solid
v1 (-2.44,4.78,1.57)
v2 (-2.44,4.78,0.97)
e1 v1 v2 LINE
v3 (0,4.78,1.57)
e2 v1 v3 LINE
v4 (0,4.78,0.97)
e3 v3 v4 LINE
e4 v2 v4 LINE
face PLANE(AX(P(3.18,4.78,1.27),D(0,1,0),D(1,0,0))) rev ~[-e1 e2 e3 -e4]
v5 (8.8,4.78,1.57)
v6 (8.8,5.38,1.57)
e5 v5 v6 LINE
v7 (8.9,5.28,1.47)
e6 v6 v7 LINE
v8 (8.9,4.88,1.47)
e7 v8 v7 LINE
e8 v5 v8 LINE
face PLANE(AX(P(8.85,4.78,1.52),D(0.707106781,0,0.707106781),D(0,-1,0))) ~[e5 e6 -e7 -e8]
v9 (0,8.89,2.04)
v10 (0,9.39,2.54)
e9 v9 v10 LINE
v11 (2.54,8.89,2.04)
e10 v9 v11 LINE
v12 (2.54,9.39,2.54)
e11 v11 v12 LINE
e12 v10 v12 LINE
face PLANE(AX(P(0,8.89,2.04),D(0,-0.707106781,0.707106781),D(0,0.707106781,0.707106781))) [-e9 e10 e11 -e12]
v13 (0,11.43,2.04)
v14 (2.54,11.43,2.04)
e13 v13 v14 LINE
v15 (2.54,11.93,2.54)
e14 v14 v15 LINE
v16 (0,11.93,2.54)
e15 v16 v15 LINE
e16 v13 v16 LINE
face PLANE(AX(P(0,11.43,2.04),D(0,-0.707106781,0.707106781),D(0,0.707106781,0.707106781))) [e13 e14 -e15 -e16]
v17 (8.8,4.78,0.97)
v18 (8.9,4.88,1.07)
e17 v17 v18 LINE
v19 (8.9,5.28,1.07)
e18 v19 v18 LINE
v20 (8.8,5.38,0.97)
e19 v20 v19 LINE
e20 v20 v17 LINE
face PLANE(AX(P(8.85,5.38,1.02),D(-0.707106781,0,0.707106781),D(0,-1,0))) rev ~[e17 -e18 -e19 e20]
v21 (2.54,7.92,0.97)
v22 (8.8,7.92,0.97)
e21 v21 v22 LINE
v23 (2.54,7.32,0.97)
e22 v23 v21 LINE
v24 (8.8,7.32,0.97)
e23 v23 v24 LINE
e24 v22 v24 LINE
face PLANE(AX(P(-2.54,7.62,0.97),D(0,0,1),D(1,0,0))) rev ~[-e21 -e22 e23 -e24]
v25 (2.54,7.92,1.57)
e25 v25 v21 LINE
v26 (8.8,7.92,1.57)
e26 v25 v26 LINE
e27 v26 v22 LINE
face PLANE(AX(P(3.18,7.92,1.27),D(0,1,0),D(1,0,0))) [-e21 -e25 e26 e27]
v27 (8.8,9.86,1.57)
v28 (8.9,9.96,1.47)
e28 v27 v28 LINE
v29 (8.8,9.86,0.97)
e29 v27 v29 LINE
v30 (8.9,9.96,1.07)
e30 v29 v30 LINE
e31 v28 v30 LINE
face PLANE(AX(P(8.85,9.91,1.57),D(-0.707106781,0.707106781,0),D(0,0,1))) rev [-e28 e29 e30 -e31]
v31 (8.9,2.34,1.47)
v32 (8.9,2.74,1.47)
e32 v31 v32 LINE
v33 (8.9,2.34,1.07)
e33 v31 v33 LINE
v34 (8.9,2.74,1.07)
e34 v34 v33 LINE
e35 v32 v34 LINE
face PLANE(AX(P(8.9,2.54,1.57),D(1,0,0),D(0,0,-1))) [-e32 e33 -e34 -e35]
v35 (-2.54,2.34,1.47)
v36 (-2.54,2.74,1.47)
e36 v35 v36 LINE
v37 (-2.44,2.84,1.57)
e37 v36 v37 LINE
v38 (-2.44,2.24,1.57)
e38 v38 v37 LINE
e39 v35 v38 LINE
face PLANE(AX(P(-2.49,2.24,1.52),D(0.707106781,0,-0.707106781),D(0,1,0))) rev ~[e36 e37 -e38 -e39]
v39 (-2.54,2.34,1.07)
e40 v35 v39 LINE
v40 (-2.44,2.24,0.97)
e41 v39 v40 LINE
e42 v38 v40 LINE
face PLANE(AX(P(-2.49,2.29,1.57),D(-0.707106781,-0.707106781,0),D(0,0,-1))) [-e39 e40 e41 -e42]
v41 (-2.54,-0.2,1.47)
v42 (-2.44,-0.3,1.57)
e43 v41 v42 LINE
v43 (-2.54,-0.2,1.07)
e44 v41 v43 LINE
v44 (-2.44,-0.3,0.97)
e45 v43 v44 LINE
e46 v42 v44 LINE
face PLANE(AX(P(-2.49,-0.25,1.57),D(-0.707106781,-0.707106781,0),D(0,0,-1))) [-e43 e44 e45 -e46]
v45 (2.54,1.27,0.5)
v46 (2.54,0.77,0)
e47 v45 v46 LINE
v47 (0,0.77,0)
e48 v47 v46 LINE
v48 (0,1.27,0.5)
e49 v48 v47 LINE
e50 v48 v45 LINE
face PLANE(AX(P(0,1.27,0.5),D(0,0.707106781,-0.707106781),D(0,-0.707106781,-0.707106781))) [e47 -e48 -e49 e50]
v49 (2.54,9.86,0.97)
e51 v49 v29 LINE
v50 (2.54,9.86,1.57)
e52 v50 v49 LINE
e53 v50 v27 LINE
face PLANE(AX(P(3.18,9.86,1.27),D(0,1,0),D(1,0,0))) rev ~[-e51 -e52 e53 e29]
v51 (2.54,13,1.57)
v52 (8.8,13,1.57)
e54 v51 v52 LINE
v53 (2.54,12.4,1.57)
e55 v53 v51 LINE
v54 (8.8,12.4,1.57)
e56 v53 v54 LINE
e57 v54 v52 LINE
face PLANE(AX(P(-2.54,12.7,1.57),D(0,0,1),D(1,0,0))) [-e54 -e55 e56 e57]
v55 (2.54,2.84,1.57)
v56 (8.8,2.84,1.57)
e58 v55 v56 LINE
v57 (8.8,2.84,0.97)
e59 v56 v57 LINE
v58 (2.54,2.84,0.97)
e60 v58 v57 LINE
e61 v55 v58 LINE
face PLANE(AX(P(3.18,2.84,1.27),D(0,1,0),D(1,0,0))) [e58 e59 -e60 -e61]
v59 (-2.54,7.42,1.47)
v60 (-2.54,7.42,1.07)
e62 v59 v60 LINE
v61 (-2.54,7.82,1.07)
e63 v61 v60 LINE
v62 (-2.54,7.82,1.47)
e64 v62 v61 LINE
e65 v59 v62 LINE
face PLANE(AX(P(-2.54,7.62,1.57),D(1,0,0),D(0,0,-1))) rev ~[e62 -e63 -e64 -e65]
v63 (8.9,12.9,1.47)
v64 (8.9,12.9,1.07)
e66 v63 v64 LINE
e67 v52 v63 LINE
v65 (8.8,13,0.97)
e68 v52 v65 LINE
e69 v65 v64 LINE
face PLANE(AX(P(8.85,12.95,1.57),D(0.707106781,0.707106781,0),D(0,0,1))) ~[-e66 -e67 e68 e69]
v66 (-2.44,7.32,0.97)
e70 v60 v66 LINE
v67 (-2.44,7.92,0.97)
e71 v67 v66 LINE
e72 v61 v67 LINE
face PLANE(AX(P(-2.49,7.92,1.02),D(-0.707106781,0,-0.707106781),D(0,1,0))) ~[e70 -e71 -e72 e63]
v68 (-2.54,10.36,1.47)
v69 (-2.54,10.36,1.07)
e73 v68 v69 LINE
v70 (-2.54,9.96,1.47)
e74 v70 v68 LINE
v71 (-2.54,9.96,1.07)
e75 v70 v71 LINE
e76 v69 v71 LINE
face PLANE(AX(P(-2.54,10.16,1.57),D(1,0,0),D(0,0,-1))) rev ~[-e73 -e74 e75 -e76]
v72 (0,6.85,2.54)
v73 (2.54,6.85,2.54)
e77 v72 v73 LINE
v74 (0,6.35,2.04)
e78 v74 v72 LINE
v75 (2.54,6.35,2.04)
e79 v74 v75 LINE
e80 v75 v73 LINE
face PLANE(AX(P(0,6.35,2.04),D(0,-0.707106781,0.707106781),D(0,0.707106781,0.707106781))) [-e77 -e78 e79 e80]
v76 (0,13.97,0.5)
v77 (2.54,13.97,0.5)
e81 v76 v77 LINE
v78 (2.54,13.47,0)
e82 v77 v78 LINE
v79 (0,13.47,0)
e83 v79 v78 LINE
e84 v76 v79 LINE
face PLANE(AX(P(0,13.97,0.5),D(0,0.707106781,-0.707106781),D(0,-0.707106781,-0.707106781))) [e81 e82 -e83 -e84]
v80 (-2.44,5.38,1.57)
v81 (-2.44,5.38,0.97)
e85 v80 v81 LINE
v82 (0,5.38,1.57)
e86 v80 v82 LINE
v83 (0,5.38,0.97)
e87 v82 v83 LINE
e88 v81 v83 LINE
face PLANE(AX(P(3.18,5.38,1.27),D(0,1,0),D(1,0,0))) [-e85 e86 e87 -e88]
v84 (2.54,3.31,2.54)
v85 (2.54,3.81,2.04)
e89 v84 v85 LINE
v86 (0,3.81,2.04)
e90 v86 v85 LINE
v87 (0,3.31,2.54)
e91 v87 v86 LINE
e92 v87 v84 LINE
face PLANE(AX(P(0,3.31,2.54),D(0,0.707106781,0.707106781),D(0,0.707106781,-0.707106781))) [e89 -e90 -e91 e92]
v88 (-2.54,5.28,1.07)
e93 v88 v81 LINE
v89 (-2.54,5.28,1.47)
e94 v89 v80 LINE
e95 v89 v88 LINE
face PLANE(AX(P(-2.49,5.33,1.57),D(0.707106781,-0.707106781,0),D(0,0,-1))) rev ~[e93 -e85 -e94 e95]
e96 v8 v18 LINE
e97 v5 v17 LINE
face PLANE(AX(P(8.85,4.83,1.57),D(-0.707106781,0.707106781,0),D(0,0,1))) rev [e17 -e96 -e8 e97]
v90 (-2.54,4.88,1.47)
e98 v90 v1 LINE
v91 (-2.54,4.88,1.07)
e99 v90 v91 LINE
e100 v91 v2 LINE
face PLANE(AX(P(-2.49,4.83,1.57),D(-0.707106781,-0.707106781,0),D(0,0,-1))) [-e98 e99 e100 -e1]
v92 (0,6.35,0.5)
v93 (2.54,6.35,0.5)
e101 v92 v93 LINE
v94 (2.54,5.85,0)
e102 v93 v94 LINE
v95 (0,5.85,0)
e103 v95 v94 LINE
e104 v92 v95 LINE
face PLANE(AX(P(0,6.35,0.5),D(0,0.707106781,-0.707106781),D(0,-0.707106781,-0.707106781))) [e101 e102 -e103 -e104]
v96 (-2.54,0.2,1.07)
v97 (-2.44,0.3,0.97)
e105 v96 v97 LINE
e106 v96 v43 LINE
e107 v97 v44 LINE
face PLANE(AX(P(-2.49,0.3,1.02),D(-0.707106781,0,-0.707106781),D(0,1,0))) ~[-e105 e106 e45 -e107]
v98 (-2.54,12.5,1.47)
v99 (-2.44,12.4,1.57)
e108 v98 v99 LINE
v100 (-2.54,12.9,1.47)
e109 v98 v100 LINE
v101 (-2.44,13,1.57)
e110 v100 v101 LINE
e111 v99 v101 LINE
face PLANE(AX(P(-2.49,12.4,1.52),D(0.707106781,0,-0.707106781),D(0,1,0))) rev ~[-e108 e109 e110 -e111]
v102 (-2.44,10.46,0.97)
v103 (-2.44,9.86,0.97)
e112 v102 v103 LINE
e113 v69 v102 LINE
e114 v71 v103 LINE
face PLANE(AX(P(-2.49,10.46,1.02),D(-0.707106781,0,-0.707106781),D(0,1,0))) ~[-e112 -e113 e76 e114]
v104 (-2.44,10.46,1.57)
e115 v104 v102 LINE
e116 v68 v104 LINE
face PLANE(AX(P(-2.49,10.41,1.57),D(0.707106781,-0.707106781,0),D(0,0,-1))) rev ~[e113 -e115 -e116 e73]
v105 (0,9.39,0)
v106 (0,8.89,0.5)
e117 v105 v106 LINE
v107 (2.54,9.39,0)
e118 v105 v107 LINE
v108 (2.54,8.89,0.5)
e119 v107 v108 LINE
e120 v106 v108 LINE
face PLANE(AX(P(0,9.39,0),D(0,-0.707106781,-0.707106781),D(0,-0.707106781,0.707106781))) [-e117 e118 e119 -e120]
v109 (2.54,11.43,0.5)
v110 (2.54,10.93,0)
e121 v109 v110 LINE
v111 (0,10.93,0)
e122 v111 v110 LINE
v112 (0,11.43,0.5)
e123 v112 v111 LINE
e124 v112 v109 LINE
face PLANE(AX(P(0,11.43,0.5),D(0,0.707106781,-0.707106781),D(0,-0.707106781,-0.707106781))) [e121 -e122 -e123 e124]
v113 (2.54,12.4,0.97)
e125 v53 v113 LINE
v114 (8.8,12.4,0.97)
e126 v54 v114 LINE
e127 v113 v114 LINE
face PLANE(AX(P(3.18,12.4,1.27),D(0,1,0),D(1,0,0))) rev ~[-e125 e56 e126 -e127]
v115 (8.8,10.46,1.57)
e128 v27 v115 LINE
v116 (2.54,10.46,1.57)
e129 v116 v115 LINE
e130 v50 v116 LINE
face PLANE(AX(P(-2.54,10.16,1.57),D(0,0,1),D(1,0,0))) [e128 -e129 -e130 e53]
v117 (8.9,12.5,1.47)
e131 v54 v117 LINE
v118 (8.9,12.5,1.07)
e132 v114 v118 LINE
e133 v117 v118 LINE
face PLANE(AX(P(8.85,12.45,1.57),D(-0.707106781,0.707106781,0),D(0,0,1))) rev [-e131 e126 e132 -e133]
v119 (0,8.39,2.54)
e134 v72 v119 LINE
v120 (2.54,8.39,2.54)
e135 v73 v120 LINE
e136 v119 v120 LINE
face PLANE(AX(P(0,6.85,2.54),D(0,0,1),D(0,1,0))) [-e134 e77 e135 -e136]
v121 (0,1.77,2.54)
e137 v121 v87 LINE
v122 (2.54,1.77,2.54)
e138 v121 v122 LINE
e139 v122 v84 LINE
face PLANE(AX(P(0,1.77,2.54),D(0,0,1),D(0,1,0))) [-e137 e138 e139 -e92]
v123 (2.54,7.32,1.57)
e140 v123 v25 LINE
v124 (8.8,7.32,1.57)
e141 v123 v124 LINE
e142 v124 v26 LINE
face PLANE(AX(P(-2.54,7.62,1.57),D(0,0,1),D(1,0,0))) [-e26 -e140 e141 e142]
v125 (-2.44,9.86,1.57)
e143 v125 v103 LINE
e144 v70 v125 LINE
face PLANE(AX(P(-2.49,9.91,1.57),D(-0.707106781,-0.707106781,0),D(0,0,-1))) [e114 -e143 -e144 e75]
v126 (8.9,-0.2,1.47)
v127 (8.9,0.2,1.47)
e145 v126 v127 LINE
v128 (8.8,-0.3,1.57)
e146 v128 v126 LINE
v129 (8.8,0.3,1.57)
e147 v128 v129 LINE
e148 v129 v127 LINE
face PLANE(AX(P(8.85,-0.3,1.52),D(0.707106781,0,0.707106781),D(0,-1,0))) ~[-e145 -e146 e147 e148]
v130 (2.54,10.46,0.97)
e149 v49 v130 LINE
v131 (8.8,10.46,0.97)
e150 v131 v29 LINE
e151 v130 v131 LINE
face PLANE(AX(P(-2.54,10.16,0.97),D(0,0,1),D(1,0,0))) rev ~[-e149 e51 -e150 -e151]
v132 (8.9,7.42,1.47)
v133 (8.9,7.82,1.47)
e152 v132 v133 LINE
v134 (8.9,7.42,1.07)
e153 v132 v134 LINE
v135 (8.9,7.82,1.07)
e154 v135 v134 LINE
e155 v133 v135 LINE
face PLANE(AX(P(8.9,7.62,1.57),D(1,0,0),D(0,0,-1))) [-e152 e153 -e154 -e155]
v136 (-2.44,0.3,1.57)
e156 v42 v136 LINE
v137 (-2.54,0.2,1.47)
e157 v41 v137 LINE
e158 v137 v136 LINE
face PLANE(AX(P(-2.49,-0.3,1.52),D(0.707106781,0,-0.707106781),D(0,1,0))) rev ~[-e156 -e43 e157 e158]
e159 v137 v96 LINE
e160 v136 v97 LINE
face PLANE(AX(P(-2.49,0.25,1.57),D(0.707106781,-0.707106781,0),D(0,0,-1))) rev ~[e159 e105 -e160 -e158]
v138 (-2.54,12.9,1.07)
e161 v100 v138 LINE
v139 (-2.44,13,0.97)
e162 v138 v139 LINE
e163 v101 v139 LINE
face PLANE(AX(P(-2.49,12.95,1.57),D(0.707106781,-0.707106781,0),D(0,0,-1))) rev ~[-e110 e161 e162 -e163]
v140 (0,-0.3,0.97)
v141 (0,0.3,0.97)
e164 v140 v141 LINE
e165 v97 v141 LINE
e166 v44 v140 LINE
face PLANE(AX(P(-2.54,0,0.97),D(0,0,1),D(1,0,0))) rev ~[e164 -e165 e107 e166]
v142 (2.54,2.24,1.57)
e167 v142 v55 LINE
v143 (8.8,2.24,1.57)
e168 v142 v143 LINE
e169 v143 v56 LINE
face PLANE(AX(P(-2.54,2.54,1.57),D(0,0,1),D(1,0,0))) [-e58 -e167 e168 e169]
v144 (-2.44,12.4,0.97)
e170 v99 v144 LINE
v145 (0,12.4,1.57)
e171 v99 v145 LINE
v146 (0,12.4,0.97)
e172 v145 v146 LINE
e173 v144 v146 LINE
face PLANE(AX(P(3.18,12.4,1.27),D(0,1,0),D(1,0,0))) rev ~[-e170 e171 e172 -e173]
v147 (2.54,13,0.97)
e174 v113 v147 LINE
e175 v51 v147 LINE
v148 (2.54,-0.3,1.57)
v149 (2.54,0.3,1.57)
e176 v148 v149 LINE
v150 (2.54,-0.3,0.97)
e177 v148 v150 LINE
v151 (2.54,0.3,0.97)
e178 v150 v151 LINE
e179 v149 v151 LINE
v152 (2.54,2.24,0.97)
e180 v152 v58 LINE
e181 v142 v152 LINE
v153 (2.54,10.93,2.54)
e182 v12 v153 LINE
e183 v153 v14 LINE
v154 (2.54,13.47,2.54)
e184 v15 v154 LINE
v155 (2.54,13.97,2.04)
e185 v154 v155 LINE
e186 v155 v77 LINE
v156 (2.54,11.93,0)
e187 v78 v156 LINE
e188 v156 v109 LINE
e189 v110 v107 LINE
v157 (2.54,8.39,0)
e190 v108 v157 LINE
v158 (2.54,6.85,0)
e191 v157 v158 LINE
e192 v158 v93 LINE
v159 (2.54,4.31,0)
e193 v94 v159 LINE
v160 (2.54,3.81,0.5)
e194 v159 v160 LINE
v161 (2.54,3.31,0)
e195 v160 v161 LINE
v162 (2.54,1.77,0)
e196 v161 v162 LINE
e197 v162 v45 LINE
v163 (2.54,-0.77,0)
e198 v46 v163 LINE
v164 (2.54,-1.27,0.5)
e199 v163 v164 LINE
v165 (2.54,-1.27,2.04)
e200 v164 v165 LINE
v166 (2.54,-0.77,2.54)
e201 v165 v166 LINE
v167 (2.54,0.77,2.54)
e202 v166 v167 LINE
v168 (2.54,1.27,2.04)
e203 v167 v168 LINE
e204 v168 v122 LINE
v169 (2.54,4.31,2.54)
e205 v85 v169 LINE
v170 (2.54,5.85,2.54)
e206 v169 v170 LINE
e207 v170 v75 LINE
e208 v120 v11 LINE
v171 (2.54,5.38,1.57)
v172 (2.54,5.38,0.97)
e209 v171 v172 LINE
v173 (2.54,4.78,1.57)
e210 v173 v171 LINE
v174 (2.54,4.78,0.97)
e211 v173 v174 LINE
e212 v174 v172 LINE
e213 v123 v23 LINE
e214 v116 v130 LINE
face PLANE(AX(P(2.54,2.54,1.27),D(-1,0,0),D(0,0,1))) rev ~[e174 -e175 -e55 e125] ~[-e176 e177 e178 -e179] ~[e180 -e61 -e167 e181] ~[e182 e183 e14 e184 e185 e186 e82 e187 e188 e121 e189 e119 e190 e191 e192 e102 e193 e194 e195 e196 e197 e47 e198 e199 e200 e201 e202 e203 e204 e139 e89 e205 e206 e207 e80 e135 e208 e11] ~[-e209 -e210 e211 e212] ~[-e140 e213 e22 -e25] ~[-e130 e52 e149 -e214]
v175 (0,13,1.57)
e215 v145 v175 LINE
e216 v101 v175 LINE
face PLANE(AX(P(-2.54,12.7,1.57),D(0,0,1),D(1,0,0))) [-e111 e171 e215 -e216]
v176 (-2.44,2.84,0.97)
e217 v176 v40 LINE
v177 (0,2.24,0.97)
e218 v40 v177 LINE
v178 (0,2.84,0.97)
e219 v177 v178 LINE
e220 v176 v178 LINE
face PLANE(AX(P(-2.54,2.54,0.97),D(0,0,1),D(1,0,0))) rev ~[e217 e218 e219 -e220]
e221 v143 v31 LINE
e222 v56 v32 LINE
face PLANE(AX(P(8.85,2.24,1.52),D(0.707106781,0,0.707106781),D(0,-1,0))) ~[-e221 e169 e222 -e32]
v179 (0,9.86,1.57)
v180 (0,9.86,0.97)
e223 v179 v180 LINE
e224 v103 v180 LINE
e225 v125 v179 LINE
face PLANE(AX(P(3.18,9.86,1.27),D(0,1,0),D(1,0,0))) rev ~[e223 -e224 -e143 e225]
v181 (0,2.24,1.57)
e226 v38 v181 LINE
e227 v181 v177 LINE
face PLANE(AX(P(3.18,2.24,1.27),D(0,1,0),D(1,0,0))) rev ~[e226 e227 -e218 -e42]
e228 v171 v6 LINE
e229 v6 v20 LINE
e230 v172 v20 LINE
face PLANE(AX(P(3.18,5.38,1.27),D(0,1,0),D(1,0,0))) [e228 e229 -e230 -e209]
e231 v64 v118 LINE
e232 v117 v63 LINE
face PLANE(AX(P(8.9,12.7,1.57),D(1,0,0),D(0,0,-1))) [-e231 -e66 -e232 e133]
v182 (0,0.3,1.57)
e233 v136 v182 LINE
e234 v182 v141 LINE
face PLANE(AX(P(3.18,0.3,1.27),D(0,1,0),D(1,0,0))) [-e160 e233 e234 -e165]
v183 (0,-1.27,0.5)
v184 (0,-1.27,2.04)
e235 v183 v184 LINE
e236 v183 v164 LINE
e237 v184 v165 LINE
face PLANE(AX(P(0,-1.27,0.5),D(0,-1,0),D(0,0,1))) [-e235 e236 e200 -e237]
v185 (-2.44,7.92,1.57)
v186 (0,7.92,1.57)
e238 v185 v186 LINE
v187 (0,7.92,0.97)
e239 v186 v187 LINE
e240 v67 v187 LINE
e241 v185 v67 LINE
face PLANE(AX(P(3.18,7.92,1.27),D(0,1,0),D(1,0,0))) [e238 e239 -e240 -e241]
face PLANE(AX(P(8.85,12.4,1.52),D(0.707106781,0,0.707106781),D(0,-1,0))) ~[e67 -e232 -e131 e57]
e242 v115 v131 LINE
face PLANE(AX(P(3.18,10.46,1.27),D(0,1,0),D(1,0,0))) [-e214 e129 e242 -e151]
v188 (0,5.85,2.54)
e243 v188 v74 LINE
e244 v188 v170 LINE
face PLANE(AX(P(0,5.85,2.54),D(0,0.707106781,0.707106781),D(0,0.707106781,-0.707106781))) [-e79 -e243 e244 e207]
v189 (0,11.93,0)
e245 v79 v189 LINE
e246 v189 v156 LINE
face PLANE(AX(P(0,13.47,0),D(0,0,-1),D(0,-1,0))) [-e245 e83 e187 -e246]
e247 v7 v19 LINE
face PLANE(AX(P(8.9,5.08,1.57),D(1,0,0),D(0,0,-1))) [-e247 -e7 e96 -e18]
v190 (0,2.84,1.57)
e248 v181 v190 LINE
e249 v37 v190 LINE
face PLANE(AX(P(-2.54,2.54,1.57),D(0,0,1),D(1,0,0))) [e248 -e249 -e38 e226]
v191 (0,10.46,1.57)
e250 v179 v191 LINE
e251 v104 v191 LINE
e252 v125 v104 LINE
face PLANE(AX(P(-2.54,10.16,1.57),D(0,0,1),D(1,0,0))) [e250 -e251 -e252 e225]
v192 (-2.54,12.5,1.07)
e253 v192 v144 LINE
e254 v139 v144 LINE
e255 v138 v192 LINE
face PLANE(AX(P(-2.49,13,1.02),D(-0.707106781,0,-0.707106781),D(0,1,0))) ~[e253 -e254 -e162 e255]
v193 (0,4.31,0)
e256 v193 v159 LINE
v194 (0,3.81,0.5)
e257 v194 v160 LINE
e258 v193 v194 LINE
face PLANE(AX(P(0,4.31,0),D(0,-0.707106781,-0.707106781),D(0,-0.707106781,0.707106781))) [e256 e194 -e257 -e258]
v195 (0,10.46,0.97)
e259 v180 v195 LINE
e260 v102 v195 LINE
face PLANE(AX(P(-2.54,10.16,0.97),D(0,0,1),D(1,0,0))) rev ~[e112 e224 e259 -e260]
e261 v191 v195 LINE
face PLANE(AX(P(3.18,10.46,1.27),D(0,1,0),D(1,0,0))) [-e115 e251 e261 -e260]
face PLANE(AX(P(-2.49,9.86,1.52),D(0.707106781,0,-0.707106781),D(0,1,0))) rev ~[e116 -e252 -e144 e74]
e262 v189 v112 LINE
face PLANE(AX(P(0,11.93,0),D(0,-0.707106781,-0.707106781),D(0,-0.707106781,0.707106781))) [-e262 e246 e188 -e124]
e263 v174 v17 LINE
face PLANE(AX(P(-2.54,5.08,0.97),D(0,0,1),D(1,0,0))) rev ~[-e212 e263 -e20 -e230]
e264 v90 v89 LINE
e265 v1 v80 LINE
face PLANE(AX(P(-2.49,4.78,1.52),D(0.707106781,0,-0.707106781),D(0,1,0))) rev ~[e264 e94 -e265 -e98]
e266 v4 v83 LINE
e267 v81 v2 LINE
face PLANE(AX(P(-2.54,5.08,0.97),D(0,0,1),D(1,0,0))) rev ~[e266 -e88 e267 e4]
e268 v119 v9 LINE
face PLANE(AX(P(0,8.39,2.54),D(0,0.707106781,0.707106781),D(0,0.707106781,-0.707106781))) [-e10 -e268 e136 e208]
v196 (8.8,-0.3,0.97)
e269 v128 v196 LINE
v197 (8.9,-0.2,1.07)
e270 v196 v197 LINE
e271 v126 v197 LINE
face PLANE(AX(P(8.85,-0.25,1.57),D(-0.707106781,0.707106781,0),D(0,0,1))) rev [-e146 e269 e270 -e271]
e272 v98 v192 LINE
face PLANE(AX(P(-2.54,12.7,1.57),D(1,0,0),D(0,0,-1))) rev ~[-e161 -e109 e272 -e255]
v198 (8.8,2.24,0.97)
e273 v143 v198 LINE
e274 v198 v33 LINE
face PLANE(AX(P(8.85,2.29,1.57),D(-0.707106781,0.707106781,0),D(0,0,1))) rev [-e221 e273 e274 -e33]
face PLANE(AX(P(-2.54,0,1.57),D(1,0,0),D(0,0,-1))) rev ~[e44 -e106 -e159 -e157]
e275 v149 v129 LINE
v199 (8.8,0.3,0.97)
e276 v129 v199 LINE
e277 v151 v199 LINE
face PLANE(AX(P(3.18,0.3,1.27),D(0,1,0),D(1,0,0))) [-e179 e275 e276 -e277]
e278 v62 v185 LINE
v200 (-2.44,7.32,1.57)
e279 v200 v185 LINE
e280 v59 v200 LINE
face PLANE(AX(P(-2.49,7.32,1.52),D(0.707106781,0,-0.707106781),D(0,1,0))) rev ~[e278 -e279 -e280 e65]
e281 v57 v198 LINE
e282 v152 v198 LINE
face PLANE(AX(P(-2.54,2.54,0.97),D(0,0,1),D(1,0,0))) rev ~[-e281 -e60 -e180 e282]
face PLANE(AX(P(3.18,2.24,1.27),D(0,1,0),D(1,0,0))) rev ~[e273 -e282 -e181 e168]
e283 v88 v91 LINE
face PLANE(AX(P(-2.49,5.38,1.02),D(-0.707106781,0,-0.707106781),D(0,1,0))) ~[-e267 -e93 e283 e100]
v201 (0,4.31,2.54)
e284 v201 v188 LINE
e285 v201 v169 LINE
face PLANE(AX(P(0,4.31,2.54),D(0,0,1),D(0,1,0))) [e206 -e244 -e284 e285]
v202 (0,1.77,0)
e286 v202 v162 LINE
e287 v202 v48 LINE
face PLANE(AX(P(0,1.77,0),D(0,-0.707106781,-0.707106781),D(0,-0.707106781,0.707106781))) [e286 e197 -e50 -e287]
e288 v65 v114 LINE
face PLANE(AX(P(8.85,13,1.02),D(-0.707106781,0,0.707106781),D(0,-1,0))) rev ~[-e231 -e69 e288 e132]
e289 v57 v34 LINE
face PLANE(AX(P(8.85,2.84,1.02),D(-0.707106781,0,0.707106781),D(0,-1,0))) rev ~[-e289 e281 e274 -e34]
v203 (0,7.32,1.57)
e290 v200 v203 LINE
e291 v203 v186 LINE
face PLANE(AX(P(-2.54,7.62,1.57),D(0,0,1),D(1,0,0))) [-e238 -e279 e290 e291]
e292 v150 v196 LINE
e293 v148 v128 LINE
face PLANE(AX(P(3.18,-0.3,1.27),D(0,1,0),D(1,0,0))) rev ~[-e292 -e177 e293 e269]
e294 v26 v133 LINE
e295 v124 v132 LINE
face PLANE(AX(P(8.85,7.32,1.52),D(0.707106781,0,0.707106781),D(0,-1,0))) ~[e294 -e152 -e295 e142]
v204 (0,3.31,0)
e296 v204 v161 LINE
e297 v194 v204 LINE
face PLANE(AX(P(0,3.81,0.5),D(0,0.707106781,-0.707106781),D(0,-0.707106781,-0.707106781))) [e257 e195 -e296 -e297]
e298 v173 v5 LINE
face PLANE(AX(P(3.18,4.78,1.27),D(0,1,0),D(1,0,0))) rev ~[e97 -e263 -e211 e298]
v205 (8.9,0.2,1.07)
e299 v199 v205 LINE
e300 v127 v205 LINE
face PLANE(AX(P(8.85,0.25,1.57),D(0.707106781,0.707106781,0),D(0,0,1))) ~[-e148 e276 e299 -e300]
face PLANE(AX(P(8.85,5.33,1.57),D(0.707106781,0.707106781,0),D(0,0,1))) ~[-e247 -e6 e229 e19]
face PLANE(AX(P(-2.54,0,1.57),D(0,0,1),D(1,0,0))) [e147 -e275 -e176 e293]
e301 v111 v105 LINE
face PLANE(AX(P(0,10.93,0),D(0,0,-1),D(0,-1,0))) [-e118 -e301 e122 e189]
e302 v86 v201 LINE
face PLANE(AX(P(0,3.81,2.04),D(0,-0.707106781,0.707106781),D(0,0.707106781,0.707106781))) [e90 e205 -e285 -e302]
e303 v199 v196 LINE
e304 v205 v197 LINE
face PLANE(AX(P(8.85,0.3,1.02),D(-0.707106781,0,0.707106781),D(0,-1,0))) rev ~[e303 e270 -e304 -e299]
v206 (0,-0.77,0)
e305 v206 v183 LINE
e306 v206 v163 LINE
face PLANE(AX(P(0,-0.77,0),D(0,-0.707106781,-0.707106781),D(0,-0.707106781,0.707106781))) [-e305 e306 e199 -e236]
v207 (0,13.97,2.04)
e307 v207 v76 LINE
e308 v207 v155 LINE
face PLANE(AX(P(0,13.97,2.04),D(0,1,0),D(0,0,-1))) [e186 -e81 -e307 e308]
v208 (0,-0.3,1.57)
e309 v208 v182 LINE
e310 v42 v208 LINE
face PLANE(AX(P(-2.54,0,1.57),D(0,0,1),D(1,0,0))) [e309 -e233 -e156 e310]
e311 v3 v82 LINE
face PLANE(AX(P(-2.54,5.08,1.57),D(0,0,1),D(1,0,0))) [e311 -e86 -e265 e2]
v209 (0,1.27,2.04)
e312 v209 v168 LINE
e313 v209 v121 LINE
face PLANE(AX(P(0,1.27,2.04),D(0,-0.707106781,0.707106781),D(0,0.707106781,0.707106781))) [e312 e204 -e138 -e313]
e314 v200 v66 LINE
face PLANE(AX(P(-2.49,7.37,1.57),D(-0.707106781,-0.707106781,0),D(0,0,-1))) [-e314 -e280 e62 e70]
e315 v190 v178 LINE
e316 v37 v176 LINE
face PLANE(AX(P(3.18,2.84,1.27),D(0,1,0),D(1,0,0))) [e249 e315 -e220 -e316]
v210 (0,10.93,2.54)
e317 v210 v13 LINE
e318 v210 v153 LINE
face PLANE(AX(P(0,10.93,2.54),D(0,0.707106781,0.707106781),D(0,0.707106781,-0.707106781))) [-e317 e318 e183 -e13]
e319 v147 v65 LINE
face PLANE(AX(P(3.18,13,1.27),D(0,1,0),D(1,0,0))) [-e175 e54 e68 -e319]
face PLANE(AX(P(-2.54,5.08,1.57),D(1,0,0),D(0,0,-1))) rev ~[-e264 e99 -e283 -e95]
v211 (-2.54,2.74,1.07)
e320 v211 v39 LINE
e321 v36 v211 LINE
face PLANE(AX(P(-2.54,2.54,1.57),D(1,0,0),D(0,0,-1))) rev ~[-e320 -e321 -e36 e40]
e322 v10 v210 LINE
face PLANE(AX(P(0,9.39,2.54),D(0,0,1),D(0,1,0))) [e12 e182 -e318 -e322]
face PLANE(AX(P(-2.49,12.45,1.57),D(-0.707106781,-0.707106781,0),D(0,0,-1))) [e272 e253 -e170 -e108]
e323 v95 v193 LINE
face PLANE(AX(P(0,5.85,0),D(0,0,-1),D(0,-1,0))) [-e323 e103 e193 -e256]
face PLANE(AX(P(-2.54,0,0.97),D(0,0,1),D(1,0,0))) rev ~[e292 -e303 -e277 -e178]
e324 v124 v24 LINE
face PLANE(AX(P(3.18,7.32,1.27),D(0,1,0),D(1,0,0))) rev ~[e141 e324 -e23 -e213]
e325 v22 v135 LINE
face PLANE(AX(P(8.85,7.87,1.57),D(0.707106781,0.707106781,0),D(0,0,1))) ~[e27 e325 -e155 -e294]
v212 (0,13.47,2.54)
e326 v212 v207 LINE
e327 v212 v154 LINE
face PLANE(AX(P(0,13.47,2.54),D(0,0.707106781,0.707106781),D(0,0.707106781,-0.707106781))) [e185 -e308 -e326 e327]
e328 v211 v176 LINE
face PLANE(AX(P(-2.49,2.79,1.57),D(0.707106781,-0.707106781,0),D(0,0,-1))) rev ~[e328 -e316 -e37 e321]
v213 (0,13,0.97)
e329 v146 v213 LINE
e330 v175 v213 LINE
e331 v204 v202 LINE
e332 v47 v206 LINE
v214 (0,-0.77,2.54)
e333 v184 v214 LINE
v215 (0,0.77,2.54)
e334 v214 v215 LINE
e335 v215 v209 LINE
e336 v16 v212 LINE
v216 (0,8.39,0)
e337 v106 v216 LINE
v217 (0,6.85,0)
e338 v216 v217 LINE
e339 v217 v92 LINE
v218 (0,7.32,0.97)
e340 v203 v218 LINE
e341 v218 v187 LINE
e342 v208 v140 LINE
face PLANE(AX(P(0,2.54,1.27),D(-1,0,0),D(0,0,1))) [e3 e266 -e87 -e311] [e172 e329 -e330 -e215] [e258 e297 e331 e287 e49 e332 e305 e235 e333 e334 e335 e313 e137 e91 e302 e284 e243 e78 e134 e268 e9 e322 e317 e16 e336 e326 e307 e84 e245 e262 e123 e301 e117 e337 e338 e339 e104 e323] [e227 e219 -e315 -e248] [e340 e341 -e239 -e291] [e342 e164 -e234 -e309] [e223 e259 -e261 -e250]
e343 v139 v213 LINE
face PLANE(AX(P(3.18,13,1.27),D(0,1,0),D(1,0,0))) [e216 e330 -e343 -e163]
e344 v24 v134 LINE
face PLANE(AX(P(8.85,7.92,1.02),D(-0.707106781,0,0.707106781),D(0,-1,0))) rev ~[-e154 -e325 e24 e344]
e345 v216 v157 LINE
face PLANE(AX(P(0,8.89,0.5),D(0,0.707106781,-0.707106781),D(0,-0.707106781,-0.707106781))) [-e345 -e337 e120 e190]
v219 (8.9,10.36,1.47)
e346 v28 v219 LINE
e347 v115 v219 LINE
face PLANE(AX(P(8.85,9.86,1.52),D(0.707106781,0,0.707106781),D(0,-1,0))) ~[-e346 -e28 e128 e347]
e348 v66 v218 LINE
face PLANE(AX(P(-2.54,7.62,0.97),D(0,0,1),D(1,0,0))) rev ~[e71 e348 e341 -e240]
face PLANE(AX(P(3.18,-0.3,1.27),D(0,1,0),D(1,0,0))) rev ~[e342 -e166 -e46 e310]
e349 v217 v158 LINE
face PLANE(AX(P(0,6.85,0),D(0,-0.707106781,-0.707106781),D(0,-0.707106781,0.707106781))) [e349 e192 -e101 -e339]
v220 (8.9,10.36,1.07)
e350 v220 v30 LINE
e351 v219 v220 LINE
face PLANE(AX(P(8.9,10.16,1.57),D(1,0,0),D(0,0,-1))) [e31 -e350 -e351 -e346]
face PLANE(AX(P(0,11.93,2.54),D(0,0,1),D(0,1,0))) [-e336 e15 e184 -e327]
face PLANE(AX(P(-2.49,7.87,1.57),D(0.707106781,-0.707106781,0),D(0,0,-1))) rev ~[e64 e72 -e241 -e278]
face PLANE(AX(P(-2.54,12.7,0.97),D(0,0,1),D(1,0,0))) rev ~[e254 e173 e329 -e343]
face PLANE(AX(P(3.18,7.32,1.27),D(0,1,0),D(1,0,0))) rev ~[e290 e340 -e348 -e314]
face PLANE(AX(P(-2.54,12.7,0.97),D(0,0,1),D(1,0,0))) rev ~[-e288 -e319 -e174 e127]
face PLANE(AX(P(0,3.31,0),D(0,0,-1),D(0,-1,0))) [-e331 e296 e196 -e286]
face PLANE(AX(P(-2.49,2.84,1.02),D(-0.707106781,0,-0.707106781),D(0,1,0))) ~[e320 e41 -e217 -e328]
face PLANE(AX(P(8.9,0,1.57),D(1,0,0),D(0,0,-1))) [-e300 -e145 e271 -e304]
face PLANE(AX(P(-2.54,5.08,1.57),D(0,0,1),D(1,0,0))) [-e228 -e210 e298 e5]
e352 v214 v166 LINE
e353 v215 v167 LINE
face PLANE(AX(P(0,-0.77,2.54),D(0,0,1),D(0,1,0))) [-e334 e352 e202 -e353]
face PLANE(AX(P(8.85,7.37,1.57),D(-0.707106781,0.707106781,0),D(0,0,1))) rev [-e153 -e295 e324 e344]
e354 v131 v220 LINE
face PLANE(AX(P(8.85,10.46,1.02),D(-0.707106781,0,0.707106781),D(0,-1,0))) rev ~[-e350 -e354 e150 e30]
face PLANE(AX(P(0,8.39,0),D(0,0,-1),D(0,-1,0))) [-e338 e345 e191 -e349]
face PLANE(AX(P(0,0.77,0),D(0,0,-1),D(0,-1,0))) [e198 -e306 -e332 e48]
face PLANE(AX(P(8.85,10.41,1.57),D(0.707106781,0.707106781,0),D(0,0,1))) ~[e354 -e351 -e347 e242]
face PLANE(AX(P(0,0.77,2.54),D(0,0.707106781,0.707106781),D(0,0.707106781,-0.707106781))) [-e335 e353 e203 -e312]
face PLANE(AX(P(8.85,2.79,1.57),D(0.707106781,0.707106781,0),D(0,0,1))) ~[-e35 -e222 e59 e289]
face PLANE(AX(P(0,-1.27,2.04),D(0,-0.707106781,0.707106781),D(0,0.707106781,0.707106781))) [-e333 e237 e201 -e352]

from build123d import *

# Parameters (mm, degrees)
PLASTIC_DEPTH   = 2.54
SKETCH2_W       = 11.44
SKETCH2_H       = 0.6
CONTACT_DEPTH   = 0.3
CHAMFER1_SIZE   = 0.1
LPATTERN1_COUNT = 6
LPATTERN1_PITCH = 2.54


with BuildPart() as part:
    # Sketch1 → Plastic (new body)
    with BuildSketch(Plane(origin=(0, 0, 0), x_dir=(0, 0, -1), z_dir=(1, 0, 0))):
        Polygon((-2.04, 1.27), (-0.5, 1.27), (0, 0.77), (0, -0.77), (-0.5, -1.27), (-2.04, -1.27), (-2.54, -0.77), (-2.54, 0.77), align=None)
    extrude(amount=PLASTIC_DEPTH)

    # Sketch2 → Contact (add, symmetric)
    with BuildSketch(Plane(origin=(0, 0, 0), x_dir=(1, 0, 0), z_dir=(0, 1, 0))):
        with Locations((3.18, -1.27)):
            Rectangle(SKETCH2_W, SKETCH2_H)
    extrude(amount=CONTACT_DEPTH, both=True)

    # Chamfer1
    chamfer1_edges = [part.edges().sort_by_distance(p)[0] for p in [
        (8.9, 0, 0.97),
        (8.9, 0.3, 1.27),
        (-2.54, 0, 1.57),
        (8.9, -0.3, 1.27),
        (8.9, 0, 1.57),
        (-2.54, -0.3, 1.27),
        (-2.54, 0, 0.97),
        (-2.54, 0.3, 1.27),
    ]]
    chamfer(chamfer1_edges, length=CHAMFER1_SIZE)

    # LPattern1: part ×6


with BuildPart() as part_1:
    add(part.part)
    with Locations(*[(0, i * LPATTERN1_PITCH, 0) for i in range(1, LPATTERN1_COUNT)]):
        add(part.part)


solid = part_1.part
